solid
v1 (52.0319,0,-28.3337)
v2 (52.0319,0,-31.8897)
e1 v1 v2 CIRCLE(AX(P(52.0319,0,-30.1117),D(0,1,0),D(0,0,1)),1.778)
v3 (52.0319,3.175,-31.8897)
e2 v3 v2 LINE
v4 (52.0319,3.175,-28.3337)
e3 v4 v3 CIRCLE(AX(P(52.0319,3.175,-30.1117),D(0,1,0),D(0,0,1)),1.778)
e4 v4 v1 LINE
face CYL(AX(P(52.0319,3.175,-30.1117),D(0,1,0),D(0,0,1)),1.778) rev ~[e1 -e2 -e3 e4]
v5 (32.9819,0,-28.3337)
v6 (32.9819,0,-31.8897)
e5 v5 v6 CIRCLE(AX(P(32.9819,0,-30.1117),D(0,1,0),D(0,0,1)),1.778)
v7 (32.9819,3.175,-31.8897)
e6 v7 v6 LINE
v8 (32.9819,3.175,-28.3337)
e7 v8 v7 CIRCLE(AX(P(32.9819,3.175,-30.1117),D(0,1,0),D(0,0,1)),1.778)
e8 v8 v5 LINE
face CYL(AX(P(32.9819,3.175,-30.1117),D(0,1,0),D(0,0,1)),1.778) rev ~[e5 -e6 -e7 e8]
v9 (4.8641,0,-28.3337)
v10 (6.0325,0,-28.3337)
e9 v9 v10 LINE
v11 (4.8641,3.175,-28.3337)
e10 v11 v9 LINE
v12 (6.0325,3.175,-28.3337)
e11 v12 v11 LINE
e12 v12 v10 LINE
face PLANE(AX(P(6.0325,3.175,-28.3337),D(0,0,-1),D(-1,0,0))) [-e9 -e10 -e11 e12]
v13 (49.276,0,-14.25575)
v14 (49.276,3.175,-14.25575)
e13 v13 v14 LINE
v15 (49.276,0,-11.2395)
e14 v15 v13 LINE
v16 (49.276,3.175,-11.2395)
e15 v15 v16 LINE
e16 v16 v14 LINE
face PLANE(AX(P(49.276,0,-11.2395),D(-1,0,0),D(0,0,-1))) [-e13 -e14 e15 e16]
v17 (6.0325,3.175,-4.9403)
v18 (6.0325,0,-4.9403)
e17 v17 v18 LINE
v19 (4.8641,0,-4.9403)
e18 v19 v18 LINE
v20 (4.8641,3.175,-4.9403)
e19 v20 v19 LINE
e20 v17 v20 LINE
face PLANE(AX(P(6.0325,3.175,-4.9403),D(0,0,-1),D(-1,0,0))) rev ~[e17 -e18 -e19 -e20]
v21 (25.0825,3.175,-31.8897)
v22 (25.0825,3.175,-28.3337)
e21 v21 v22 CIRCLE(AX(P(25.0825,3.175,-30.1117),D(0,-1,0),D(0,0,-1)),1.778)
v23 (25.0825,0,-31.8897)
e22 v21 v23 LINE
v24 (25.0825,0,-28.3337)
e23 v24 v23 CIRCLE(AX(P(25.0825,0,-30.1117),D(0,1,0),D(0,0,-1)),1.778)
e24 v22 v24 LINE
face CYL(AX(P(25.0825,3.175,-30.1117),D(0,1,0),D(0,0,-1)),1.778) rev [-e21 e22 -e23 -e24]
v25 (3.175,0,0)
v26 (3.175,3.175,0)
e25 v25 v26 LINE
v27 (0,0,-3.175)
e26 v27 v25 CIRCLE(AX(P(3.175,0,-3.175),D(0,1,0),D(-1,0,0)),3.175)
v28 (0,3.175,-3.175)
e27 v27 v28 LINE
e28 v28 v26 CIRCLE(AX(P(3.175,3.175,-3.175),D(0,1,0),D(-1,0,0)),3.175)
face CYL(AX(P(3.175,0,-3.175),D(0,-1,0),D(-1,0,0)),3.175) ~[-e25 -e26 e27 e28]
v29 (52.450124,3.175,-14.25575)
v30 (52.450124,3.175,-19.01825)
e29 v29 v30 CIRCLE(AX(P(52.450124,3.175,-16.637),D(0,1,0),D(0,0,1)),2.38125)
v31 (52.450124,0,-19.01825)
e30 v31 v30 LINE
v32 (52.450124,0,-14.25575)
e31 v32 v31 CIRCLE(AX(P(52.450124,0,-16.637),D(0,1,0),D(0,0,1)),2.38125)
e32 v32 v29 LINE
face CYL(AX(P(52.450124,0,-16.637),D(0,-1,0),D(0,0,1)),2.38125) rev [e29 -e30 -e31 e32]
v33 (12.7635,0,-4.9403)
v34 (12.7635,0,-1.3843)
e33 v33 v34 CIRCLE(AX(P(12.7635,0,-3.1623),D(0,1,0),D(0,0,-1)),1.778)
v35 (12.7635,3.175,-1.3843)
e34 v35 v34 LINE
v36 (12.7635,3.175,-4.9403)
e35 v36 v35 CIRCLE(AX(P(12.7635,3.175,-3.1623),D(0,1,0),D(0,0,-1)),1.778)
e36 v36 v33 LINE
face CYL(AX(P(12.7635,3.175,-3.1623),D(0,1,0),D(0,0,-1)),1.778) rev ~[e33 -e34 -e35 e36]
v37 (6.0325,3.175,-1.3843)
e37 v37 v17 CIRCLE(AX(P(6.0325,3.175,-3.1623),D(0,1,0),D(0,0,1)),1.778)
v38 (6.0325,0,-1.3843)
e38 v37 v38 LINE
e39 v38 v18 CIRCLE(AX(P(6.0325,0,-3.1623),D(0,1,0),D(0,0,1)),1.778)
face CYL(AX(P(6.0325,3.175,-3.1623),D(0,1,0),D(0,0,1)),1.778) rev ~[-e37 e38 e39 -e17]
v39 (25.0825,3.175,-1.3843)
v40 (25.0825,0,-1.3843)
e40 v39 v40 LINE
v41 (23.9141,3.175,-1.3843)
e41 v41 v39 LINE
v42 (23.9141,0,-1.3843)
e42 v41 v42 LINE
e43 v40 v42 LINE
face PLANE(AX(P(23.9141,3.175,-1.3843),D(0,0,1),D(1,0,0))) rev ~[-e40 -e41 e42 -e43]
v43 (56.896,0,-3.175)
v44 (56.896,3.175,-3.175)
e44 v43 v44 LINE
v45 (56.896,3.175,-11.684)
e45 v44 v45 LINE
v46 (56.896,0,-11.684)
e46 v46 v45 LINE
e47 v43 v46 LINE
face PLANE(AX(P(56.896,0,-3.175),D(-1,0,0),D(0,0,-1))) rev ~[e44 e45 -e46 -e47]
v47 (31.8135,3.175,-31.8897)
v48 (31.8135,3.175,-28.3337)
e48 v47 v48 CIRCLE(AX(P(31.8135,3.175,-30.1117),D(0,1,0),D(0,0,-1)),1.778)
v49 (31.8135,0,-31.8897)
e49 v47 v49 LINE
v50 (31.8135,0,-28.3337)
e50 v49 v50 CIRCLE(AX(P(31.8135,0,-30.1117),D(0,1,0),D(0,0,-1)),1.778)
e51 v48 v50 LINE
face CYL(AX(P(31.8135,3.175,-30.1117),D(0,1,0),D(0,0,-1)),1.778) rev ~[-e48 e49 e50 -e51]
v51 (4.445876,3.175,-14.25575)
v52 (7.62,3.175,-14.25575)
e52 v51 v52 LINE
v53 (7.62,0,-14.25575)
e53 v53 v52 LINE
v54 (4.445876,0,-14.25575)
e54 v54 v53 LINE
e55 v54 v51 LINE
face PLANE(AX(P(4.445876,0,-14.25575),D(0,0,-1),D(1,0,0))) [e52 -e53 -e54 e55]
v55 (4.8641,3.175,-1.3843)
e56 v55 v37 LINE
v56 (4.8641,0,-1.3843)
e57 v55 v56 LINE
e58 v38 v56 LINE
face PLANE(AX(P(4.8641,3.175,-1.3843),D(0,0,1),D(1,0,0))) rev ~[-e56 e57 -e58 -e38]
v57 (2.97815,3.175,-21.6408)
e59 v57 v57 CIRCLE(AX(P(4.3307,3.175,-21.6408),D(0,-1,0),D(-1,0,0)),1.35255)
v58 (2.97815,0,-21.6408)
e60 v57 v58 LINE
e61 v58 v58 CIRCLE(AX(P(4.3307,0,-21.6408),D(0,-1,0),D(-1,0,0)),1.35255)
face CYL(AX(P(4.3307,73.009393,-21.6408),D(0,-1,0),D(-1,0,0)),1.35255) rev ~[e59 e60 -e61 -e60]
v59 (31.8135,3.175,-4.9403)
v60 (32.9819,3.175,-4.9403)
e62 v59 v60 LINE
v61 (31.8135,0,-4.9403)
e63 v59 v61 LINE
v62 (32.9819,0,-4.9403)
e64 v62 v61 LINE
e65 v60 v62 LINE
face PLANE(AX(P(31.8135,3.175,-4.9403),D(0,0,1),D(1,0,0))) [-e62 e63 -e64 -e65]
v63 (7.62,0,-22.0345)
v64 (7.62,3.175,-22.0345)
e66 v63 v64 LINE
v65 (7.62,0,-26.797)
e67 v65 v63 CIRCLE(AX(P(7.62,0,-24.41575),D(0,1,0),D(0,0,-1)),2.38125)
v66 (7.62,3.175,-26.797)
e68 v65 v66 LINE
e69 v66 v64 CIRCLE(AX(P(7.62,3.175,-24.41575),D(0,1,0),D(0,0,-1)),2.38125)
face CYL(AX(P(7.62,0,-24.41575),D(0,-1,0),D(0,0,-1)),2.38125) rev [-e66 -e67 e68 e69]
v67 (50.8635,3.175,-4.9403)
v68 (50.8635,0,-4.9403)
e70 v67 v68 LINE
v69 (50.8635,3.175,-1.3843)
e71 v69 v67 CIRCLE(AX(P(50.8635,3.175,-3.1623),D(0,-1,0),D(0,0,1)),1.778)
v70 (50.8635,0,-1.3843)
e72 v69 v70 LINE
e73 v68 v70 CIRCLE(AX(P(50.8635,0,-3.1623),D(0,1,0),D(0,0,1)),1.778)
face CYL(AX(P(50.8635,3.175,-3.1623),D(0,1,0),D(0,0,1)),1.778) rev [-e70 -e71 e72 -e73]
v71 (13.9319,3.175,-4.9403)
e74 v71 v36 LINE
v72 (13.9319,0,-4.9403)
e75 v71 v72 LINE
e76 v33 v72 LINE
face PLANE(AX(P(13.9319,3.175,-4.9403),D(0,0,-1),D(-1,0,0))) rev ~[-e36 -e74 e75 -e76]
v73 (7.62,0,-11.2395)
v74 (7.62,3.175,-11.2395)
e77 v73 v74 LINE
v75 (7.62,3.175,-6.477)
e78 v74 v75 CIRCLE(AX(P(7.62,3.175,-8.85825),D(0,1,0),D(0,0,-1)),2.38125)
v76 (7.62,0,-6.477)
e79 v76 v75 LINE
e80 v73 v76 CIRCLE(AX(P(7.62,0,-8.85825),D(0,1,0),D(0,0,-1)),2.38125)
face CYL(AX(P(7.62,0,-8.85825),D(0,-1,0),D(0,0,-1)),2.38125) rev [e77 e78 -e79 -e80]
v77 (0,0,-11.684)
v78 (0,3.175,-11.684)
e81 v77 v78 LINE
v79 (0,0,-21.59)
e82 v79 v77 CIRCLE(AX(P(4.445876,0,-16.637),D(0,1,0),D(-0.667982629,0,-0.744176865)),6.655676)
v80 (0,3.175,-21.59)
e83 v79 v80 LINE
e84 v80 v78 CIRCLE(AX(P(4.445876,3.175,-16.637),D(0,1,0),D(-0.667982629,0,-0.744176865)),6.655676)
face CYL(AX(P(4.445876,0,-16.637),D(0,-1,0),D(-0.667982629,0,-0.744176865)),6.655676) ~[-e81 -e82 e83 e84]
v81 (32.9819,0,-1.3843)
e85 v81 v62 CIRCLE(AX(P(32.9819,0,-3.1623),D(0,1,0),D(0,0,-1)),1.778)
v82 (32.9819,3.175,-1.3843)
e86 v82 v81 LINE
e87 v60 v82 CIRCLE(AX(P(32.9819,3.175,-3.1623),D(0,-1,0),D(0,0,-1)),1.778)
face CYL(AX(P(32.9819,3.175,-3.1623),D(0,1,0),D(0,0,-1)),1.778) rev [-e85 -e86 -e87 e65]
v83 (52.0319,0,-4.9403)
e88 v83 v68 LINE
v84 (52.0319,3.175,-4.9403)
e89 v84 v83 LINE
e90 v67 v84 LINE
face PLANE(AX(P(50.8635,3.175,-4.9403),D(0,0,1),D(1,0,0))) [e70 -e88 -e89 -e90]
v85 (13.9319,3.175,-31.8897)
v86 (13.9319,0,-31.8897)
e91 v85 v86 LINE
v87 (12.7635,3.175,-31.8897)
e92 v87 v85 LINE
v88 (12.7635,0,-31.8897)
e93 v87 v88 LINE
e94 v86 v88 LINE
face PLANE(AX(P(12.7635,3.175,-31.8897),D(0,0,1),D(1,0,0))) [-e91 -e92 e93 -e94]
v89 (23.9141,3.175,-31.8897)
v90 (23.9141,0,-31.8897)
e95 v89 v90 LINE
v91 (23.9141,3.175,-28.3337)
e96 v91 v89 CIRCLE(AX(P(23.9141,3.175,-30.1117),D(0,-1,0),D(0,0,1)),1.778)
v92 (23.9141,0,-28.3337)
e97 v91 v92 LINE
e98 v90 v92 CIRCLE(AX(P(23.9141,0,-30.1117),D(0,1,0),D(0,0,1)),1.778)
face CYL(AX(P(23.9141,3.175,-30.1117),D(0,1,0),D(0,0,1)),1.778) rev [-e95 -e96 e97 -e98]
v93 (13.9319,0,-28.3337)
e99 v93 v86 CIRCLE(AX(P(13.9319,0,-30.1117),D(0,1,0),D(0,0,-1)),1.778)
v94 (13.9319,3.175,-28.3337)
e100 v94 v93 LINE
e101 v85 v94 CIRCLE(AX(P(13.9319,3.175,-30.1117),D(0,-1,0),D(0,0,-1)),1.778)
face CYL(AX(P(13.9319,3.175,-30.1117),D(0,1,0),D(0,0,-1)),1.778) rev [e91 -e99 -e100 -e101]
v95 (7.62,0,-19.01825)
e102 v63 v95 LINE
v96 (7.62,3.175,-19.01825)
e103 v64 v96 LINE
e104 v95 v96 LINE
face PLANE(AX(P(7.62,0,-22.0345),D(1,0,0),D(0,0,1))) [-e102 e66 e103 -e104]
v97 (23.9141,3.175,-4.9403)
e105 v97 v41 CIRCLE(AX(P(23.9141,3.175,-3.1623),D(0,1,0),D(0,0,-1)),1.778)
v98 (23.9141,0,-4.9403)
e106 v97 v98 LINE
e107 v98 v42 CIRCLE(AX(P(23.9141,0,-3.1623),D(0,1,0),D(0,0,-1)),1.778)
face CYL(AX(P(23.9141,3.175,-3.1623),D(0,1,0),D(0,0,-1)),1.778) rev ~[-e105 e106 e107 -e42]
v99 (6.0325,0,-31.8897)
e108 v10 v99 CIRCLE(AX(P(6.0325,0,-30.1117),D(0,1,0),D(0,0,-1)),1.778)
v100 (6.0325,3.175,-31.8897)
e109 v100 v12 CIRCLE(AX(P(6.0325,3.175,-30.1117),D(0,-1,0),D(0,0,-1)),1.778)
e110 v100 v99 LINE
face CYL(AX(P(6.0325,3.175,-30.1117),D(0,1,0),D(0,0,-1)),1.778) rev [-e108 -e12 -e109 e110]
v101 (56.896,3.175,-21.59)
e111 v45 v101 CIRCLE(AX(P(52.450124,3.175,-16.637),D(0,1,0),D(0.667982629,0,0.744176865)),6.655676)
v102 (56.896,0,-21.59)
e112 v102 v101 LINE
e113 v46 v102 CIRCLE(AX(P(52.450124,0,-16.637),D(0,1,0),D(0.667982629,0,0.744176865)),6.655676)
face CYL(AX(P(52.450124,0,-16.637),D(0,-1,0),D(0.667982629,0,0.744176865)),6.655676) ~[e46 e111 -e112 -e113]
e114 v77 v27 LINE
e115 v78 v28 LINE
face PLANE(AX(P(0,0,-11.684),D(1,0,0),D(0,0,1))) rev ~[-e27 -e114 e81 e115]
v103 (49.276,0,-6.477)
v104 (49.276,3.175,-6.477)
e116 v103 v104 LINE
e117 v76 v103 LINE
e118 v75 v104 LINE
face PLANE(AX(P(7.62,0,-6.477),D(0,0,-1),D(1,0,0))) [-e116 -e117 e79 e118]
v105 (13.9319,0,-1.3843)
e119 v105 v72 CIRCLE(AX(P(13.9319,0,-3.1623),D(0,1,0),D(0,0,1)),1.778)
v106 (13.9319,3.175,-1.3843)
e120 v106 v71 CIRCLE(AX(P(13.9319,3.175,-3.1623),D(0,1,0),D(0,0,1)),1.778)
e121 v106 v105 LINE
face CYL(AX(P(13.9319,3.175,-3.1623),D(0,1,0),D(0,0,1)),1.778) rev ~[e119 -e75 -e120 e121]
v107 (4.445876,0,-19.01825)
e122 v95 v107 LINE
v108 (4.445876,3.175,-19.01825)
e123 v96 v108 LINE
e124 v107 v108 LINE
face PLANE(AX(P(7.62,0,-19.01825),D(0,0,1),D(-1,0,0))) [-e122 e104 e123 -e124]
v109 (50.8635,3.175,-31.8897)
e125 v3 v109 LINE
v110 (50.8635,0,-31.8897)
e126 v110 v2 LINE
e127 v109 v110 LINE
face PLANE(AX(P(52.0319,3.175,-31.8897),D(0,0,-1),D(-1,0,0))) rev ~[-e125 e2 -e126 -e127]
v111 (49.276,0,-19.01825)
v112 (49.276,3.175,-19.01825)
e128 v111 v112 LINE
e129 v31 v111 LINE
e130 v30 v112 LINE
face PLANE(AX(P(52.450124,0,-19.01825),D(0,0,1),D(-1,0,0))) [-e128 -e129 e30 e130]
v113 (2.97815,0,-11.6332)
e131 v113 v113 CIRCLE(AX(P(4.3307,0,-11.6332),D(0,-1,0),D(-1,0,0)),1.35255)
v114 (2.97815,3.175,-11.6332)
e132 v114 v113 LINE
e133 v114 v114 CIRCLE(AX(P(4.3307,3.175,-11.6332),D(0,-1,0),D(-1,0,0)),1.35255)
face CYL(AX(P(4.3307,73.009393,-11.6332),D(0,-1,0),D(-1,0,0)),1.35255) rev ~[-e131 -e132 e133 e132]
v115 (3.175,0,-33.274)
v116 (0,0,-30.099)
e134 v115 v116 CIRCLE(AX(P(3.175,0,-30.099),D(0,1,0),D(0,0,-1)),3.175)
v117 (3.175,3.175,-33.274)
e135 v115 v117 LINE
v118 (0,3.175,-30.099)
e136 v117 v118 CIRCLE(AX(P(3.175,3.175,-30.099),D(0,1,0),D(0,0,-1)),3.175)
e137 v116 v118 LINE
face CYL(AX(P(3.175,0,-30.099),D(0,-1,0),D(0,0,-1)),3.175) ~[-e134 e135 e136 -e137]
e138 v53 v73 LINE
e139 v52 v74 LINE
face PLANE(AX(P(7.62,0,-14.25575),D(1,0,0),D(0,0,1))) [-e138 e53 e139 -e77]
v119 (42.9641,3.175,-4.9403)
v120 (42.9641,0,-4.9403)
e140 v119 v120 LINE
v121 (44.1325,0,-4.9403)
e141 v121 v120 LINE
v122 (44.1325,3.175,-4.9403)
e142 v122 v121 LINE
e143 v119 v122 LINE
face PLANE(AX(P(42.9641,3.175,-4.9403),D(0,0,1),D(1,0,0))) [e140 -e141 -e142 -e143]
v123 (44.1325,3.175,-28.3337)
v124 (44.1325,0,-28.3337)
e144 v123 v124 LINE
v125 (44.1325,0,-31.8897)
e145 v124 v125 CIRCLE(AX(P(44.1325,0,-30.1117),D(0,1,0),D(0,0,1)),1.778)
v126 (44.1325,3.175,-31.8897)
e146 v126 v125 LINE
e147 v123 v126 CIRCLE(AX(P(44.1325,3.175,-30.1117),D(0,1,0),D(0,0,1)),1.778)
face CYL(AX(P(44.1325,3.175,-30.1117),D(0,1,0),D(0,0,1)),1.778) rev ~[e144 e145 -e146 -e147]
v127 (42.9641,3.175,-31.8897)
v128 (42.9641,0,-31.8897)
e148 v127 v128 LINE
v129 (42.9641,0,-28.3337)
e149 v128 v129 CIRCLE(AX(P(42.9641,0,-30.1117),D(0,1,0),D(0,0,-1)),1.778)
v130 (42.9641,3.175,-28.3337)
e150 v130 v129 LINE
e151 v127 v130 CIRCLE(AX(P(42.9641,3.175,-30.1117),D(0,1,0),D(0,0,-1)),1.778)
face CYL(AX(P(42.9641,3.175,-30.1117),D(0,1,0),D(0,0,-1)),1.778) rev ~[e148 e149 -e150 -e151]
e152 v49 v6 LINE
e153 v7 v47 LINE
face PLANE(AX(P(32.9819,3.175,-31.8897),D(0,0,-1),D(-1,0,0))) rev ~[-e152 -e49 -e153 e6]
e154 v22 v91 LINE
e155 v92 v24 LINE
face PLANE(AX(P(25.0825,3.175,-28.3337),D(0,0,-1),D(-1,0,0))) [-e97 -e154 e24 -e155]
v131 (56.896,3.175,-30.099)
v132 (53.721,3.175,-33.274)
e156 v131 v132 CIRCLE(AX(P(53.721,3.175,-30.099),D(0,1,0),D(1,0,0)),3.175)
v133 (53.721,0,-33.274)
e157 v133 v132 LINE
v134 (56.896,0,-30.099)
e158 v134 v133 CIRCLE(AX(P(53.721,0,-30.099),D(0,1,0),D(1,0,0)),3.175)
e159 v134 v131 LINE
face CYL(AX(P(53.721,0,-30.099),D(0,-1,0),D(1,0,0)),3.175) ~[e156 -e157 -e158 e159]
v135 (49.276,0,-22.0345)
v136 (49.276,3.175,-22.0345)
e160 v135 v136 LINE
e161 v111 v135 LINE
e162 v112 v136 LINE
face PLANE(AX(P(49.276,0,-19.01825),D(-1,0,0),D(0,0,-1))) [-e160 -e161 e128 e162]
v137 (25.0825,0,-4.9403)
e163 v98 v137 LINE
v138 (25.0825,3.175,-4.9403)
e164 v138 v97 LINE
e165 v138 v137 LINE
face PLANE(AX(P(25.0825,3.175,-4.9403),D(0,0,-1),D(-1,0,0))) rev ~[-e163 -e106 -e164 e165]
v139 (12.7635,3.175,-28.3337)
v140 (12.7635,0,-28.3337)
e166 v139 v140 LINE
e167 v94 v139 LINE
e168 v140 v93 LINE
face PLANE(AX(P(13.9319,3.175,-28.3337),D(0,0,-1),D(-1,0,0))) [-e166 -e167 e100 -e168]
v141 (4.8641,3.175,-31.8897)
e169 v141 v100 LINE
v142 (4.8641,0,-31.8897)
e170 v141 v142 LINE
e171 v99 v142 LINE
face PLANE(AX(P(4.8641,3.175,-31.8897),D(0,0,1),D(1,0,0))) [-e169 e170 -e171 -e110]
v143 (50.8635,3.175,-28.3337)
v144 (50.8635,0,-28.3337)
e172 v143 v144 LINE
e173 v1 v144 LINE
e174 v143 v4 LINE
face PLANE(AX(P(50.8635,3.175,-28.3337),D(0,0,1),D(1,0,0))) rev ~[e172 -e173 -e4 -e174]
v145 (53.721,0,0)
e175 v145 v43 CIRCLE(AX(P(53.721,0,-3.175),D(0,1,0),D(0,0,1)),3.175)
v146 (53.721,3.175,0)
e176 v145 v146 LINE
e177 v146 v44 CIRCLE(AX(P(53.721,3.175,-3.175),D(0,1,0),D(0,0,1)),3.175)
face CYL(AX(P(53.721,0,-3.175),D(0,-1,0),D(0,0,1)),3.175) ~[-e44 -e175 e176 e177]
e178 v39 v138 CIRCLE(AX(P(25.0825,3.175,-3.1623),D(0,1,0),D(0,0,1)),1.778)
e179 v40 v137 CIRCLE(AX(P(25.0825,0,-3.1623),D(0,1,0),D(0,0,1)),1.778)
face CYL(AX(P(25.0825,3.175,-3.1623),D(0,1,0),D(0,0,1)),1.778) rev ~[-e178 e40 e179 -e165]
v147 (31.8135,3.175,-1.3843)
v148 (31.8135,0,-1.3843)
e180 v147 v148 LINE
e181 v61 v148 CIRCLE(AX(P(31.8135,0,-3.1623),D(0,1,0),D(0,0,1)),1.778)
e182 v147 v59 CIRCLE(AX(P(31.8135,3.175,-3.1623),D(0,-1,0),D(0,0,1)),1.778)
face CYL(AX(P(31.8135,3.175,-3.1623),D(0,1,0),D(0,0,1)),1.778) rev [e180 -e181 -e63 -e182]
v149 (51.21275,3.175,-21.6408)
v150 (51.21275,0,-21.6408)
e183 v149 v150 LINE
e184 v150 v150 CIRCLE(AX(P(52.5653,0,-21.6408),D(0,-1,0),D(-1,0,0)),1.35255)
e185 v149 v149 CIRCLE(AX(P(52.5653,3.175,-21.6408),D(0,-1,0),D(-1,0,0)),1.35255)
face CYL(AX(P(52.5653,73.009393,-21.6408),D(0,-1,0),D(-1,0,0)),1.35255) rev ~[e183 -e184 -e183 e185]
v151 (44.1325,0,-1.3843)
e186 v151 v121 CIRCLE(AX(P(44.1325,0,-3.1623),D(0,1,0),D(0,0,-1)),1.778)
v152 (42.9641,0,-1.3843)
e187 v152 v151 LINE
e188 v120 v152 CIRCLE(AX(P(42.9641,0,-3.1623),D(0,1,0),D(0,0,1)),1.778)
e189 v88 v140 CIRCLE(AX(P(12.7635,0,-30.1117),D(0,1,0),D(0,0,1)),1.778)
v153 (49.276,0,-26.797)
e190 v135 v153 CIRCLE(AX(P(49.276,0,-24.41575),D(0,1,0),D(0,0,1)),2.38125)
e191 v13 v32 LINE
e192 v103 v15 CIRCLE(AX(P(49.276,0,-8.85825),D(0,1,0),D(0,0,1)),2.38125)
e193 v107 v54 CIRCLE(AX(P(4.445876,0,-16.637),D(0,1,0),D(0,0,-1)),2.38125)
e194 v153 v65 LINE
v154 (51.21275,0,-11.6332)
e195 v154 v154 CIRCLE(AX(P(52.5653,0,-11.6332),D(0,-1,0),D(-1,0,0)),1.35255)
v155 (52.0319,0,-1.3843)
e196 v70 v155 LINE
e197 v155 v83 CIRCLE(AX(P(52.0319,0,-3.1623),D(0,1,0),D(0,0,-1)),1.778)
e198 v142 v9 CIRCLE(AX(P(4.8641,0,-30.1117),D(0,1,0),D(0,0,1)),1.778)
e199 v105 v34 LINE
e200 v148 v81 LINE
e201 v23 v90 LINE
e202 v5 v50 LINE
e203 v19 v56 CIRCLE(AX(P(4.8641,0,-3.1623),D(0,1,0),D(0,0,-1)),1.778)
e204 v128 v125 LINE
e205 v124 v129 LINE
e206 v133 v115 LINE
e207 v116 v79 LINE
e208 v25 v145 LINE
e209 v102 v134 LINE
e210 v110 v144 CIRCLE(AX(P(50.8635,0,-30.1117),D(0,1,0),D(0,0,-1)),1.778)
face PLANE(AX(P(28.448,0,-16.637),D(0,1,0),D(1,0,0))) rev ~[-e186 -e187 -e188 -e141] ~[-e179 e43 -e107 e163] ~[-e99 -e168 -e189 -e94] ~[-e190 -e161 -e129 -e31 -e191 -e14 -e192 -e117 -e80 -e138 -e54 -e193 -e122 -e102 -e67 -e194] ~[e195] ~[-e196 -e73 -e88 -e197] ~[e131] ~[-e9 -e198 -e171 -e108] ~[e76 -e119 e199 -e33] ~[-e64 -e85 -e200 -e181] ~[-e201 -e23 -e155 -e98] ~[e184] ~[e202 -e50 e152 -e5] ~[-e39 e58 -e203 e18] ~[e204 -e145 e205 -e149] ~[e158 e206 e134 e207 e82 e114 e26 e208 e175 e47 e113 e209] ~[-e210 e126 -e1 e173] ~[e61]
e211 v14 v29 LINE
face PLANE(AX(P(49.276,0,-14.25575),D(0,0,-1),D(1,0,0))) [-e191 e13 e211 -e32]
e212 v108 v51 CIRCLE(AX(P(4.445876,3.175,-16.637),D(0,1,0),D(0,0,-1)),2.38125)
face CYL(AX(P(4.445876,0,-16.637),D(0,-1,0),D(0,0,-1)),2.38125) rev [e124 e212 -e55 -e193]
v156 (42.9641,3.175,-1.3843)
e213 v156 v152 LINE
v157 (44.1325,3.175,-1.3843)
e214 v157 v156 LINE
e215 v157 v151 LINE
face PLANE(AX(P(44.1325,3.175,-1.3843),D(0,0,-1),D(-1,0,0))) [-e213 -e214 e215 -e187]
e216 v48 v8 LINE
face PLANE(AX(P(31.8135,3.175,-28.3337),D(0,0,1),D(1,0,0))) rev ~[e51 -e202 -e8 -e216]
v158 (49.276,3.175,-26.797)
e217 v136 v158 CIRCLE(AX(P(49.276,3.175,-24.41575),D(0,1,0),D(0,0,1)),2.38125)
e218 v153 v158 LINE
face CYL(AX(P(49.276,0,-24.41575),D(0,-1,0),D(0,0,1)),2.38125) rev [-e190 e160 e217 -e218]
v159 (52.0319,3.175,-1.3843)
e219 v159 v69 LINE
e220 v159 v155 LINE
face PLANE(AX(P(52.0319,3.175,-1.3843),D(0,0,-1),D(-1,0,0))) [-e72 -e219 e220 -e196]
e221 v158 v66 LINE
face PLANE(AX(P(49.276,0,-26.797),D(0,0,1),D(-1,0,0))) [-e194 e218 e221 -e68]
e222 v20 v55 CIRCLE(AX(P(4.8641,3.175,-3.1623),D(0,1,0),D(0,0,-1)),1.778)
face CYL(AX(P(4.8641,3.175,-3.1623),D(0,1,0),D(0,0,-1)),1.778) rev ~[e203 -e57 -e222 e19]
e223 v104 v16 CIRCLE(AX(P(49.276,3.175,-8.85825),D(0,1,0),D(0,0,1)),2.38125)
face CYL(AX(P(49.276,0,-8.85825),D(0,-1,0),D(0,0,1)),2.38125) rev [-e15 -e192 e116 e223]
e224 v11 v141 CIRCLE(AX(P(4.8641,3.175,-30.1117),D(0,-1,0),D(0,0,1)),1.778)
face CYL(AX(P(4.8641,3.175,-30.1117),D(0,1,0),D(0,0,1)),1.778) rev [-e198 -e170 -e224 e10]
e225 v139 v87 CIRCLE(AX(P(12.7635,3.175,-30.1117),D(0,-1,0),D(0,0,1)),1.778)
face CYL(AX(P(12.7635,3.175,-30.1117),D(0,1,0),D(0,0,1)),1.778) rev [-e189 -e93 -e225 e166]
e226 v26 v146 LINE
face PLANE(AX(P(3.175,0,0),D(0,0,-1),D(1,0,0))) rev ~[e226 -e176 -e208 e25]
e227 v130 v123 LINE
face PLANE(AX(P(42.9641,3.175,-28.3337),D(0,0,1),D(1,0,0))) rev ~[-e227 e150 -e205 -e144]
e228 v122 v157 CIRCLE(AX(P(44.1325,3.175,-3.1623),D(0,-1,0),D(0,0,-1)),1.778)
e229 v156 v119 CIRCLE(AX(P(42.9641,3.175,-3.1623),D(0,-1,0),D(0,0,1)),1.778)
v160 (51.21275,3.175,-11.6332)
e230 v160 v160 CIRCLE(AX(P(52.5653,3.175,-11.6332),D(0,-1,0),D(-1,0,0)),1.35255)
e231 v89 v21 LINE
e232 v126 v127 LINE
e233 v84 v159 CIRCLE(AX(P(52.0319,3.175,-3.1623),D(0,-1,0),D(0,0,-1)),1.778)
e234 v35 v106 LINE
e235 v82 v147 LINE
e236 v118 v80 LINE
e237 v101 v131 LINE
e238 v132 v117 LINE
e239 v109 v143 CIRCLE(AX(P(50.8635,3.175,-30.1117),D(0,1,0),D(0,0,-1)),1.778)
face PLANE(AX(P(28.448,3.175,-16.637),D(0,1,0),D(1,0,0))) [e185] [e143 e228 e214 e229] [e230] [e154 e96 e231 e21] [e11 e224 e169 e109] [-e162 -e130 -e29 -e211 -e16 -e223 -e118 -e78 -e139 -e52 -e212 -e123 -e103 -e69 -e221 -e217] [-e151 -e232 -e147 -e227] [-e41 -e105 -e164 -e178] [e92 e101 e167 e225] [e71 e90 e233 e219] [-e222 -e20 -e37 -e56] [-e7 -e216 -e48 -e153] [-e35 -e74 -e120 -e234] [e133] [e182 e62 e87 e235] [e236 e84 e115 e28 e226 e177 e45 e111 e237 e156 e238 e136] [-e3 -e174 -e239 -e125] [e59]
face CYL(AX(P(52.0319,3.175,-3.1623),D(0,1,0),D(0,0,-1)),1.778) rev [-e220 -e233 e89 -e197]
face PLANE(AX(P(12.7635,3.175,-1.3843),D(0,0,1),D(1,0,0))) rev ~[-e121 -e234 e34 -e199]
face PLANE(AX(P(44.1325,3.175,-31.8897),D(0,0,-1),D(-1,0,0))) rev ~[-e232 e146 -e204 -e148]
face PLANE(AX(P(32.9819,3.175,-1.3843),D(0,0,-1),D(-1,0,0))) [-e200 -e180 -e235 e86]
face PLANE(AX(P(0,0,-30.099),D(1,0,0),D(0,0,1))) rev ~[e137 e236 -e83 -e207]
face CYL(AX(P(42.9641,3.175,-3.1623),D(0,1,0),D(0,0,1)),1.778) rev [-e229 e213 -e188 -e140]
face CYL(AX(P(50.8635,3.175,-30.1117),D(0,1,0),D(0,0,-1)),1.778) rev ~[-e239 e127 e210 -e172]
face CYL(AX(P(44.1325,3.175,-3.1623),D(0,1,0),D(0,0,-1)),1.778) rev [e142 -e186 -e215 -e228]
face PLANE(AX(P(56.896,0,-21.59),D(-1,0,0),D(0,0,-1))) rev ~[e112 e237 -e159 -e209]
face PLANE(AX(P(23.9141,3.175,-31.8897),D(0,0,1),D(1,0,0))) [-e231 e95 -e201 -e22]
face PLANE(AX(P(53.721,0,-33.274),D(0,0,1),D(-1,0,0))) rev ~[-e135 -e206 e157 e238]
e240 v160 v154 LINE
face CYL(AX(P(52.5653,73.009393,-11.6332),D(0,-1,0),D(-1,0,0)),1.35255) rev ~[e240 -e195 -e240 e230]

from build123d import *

# Parameters (mm, degrees)
BOSS_EXTRUDE1_DEPTH   = 3.175
F_6_32_TAPPED_HOLE1_D = 2.7051
CUT_EXTRUDE1_REACH    = 69.902


with BuildPart() as part:
    # Sketch1 → Boss-Extrude1 (new body)
    with BuildSketch(Plane(origin=(0, 0, 0), x_dir=(1, 0, 0), z_dir=(0, 1, 0))):
        with BuildLine():
            Line((3.175, 0), (53.721, 0))
            ThreePointArc((53.721, 0), (55.96606403, 0.92993597), (56.896, 3.175))
            Line((56.896, 3.175), (56.896, 11.684))
            ThreePointArc((56.896, 11.684), (59.1058, 16.637), (56.896, 21.59))
            Line((56.896, 21.59), (56.896, 30.099))
            ThreePointArc((56.896, 30.099), (55.96606403, 32.34406403), (53.721, 33.274))
            Line((53.721, 33.274), (3.175, 33.274))
            ThreePointArc((3.175, 33.274), (0.92993597, 32.34406403), (0, 30.099))
            Line((0, 30.099), (0, 21.59))
            ThreePointArc((0, 21.59), (-2.2098, 16.637), (0, 11.684))
            Line((0, 11.684), (0, 3.175))
            ThreePointArc((0, 3.175), (0.92993597, 0.92993597), (3.175, 0))
        make_face()
        with BuildLine():
            Line((49.276, 26.797), (7.62, 26.797))
            ThreePointArc((7.62, 26.797), (5.23875, 24.41575), (7.62, 22.0345))
            Line((7.62, 22.0345), (7.62, 19.01825))
            Line((7.62, 19.01825), (4.445875862, 19.01825))
            ThreePointArc((4.445875862, 19.01825), (2.064625862, 16.637), (4.445875862, 14.25575))
            Line((4.445875862, 14.25575), (7.62, 14.25575))
            Line((7.62, 14.25575), (7.62, 11.2395))
            ThreePointArc((7.62, 11.2395), (5.23875, 8.85825), (7.62, 6.477))
            Line((7.62, 6.477), (49.276, 6.477))
            ThreePointArc((49.276, 6.477), (51.65725, 8.85825), (49.276, 11.2395))
            Line((49.276, 11.2395), (49.276, 14.25575))
            Line((49.276, 14.25575), (52.450124138, 14.25575))
            ThreePointArc((52.450124138, 14.25575), (54.831374138, 16.637), (52.450124138, 19.01825))
            Line((52.450124138, 19.01825), (49.276, 19.01825))
            Line((49.276, 19.01825), (49.276, 22.0345))
            ThreePointArc((49.276, 22.0345), (51.65725, 24.41575), (49.276, 26.797))
        make_face(mode=Mode.SUBTRACT)
    extrude(amount=BOSS_EXTRUDE1_DEPTH)

    # #6-32 Tapped Hole1 (through all)
    with Locations(Plane(origin=(0, 3.175, 0), x_dir=(1, 0, 0), z_dir=(0, 1, 0))):
        with Locations((4.3307, 21.6408), (4.3307, 11.6332), (52.5653, 11.6332), (52.5653, 21.6408)):
            Hole(F_6_32_TAPPED_HOLE1_D / 2)

    # Sketch5 → Cut-Extrude1 (cut, up to next)
    with BuildSketch(Plane(origin=(0, 3.175, 0), x_dir=(1, 0, 0), z_dir=(0, 1, 0)), mode=Mode.PRIVATE) as cut_extrude1_sk1:
        with BuildLine():
            Line((23.9141, 31.8897), (25.0825, 31.8897))
            ThreePointArc((25.0825, 31.8897), (26.8605, 30.1117), (25.0825, 28.3337))
            Line((25.0825, 28.3337), (23.9141, 28.3337))
            ThreePointArc((23.9141, 28.3337), (22.1361, 30.1117), (23.9141, 31.8897))
        make_face()
    cut_extrude1_tool1 = extrude(cut_extrude1_sk1.sketch, amount=-CUT_EXTRUDE1_REACH, mode=Mode.PRIVATE) & part.part
    # Sketch5 → Cut-Extrude1 (cut, up to next)
    with BuildSketch(Plane(origin=(0, 3.175, 0), x_dir=(1, 0, 0), z_dir=(0, 1, 0)), mode=Mode.PRIVATE) as cut_extrude1_sk2:
        with BuildLine():
            Line((12.7635, 31.8897), (13.9319, 31.8897))
            ThreePointArc((13.9319, 31.8897), (15.7099, 30.1117), (13.9319, 28.3337))
            Line((13.9319, 28.3337), (12.7635, 28.3337))
            ThreePointArc((12.7635, 28.3337), (10.9855, 30.1117), (12.7635, 31.8897))
        make_face()
    cut_extrude1_tool2 = extrude(cut_extrude1_sk2.sketch, amount=-CUT_EXTRUDE1_REACH, mode=Mode.PRIVATE) & part.part
    # Sketch5 → Cut-Extrude1 (cut, up to next)
    with BuildSketch(Plane(origin=(0, 3.175, 0), x_dir=(1, 0, 0), z_dir=(0, 1, 0)), mode=Mode.PRIVATE) as cut_extrude1_sk3:
        with BuildLine():
            Line((4.8641, 31.8897), (6.0325, 31.8897))
            ThreePointArc((6.0325, 31.8897), (7.8105, 30.1117), (6.0325, 28.3337))
            Line((6.0325, 28.3337), (4.8641, 28.3337))
            ThreePointArc((4.8641, 28.3337), (3.0861, 30.1117), (4.8641, 31.8897))
        make_face()
    cut_extrude1_tool3 = extrude(cut_extrude1_sk3.sketch, amount=-CUT_EXTRUDE1_REACH, mode=Mode.PRIVATE) & part.part
    # Sketch5 → Cut-Extrude1 (cut, up to next)
    with BuildSketch(Plane(origin=(0, 3.175, 0), x_dir=(1, 0, 0), z_dir=(0, 1, 0)), mode=Mode.PRIVATE) as cut_extrude1_sk4:
        with BuildLine():
            Line((32.9819, 31.8897), (31.8135, 31.8897))
            ThreePointArc((31.8135, 31.8897), (30.0355, 30.1117), (31.8135, 28.3337))
            Line((31.8135, 28.3337), (32.9819, 28.3337))
            ThreePointArc((32.9819, 28.3337), (34.7599, 30.1117), (32.9819, 31.8897))
        make_face()
    cut_extrude1_tool4 = extrude(cut_extrude1_sk4.sketch, amount=-CUT_EXTRUDE1_REACH, mode=Mode.PRIVATE) & part.part
    # Sketch5 → Cut-Extrude1 (cut, up to next)
    with BuildSketch(Plane(origin=(0, 3.175, 0), x_dir=(1, 0, 0), z_dir=(0, 1, 0)), mode=Mode.PRIVATE) as cut_extrude1_sk5:
        with BuildLine():
            Line((44.1325, 31.8897), (42.9641, 31.8897))
            ThreePointArc((42.9641, 31.8897), (41.1861, 30.1117), (42.9641, 28.3337))
            Line((42.9641, 28.3337), (44.1325, 28.3337))
            ThreePointArc((44.1325, 28.3337), (45.9105, 30.1117), (44.1325, 31.8897))
        make_face()
    cut_extrude1_tool5 = extrude(cut_extrude1_sk5.sketch, amount=-CUT_EXTRUDE1_REACH, mode=Mode.PRIVATE) & part.part
    # Sketch5 → Cut-Extrude1 (cut, up to next)
    with BuildSketch(Plane(origin=(0, 3.175, 0), x_dir=(1, 0, 0), z_dir=(0, 1, 0)), mode=Mode.PRIVATE) as cut_extrude1_sk6:
        with BuildLine():
            Line((52.0319, 31.8897), (50.8635, 31.8897))
            ThreePointArc((50.8635, 31.8897), (49.0855, 30.1117), (50.8635, 28.3337))
            Line((50.8635, 28.3337), (52.0319, 28.3337))
            ThreePointArc((52.0319, 28.3337), (53.8099, 30.1117), (52.0319, 31.8897))
        make_face()
    cut_extrude1_tool6 = extrude(cut_extrude1_sk6.sketch, amount=-CUT_EXTRUDE1_REACH, mode=Mode.PRIVATE) & part.part
    # Sketch5 → Cut-Extrude1 (cut, up to next)
    with BuildSketch(Plane(origin=(0, 3.175, 0), x_dir=(1, 0, 0), z_dir=(0, 1, 0)), mode=Mode.PRIVATE) as cut_extrude1_sk7:
        with BuildLine():
            Line((52.0319, 1.3843), (50.8635, 1.3843))
            ThreePointArc((50.8635, 1.3843), (49.0855, 3.1623), (50.8635, 4.9403))
            Line((50.8635, 4.9403), (52.0319, 4.9403))
            ThreePointArc((52.0319, 4.9403), (53.8099, 3.1623), (52.0319, 1.3843))
        make_face()
    cut_extrude1_tool7 = extrude(cut_extrude1_sk7.sketch, amount=-CUT_EXTRUDE1_REACH, mode=Mode.PRIVATE) & part.part
    # Sketch5 → Cut-Extrude1 (cut, up to next)
    with BuildSketch(Plane(origin=(0, 3.175, 0), x_dir=(1, 0, 0), z_dir=(0, 1, 0)), mode=Mode.PRIVATE) as cut_extrude1_sk8:
        with BuildLine():
            Line((44.1325, 1.3843), (42.9641, 1.3843))
            ThreePointArc((42.9641, 1.3843), (41.1861, 3.1623), (42.9641, 4.9403))
            Line((42.9641, 4.9403), (44.1325, 4.9403))
            ThreePointArc((44.1325, 4.9403), (45.9105, 3.1623), (44.1325, 1.3843))
        make_face()
    cut_extrude1_tool8 = extrude(cut_extrude1_sk8.sketch, amount=-CUT_EXTRUDE1_REACH, mode=Mode.PRIVATE) & part.part
    # Sketch5 → Cut-Extrude1 (cut, up to next)
    with BuildSketch(Plane(origin=(0, 3.175, 0), x_dir=(1, 0, 0), z_dir=(0, 1, 0)), mode=Mode.PRIVATE) as cut_extrude1_sk9:
        with BuildLine():
            Line((32.9819, 1.3843), (31.8135, 1.3843))
            ThreePointArc((31.8135, 1.3843), (30.0355, 3.1623), (31.8135, 4.9403))
            Line((31.8135, 4.9403), (32.9819, 4.9403))
            ThreePointArc((32.9819, 4.9403), (34.7599, 3.1623), (32.9819, 1.3843))
        make_face()
    cut_extrude1_tool9 = extrude(cut_extrude1_sk9.sketch, amount=-CUT_EXTRUDE1_REACH, mode=Mode.PRIVATE) & part.part
    # Sketch5 → Cut-Extrude1 (cut, up to next)
    with BuildSketch(Plane(origin=(0, 3.175, 0), x_dir=(1, 0, 0), z_dir=(0, 1, 0)), mode=Mode.PRIVATE) as cut_extrude1_sk10:
        with BuildLine():
            Line((23.9141, 1.3843), (25.0825, 1.3843))
            ThreePointArc((25.0825, 1.3843), (26.8605, 3.1623), (25.0825, 4.9403))
            Line((25.0825, 4.9403), (23.9141, 4.9403))
            ThreePointArc((23.9141, 4.9403), (22.1361, 3.1623), (23.9141, 1.3843))
        make_face()
    cut_extrude1_tool10 = extrude(cut_extrude1_sk10.sketch, amount=-CUT_EXTRUDE1_REACH, mode=Mode.PRIVATE) & part.part
    # Sketch5 → Cut-Extrude1 (cut, up to next)
    with BuildSketch(Plane(origin=(0, 3.175, 0), x_dir=(1, 0, 0), z_dir=(0, 1, 0)), mode=Mode.PRIVATE) as cut_extrude1_sk11:
        with BuildLine():
            Line((12.7635, 1.3843), (13.9319, 1.3843))
            ThreePointArc((13.9319, 1.3843), (15.7099, 3.1623), (13.9319, 4.9403))
            Line((13.9319, 4.9403), (12.7635, 4.9403))
            ThreePointArc((12.7635, 4.9403), (10.9855, 3.1623), (12.7635, 1.3843))
        make_face()
    cut_extrude1_tool11 = extrude(cut_extrude1_sk11.sketch, amount=-CUT_EXTRUDE1_REACH, mode=Mode.PRIVATE) & part.part
    # Sketch5 → Cut-Extrude1 (cut, up to next)
    with BuildSketch(Plane(origin=(0, 3.175, 0), x_dir=(1, 0, 0), z_dir=(0, 1, 0)), mode=Mode.PRIVATE) as cut_extrude1_sk12:
        with BuildLine():
            Line((4.8641, 1.3843), (6.0325, 1.3843))
            ThreePointArc((6.0325, 1.3843), (7.8105, 3.1623), (6.0325, 4.9403))
            Line((6.0325, 4.9403), (4.8641, 4.9403))
            ThreePointArc((4.8641, 4.9403), (3.0861, 3.1623), (4.8641, 1.3843))
        make_face()
    cut_extrude1_tool12 = extrude(cut_extrude1_sk12.sketch, amount=-CUT_EXTRUDE1_REACH, mode=Mode.PRIVATE) & part.part
    add(cut_extrude1_tool1.solids().sort_by_distance((24.4983, 3.175, -30.1117))[0], mode=Mode.SUBTRACT)
    add(cut_extrude1_tool2.solids().sort_by_distance((13.3477, 3.175, -30.1117))[0], mode=Mode.SUBTRACT)
    add(cut_extrude1_tool3.solids().sort_by_distance((5.4483, 3.175, -30.1117))[0], mode=Mode.SUBTRACT)
    add(cut_extrude1_tool4.solids().sort_by_distance((32.3977, 3.175, -30.1117))[0], mode=Mode.SUBTRACT)
    add(cut_extrude1_tool5.solids().sort_by_distance((43.5483, 3.175, -30.1117))[0], mode=Mode.SUBTRACT)
    add(cut_extrude1_tool6.solids().sort_by_distance((51.4477, 3.175, -30.1117))[0], mode=Mode.SUBTRACT)
    add(cut_extrude1_tool7.solids().sort_by_distance((51.4477, 3.175, -3.1623))[0], mode=Mode.SUBTRACT)
    add(cut_extrude1_tool8.solids().sort_by_distance((43.5483, 3.175, -3.1623))[0], mode=Mode.SUBTRACT)
    add(cut_extrude1_tool9.solids().sort_by_distance((32.3977, 3.175, -3.1623))[0], mode=Mode.SUBTRACT)
    add(cut_extrude1_tool10.solids().sort_by_distance((24.4983, 3.175, -3.1623))[0], mode=Mode.SUBTRACT)
    add(cut_extrude1_tool11.solids().sort_by_distance((13.3477, 3.175, -3.1623))[0], mode=Mode.SUBTRACT)
    add(cut_extrude1_tool12.solids().sort_by_distance((5.4483, 3.175, -3.1623))[0], mode=Mode.SUBTRACT)


solid = part.part
